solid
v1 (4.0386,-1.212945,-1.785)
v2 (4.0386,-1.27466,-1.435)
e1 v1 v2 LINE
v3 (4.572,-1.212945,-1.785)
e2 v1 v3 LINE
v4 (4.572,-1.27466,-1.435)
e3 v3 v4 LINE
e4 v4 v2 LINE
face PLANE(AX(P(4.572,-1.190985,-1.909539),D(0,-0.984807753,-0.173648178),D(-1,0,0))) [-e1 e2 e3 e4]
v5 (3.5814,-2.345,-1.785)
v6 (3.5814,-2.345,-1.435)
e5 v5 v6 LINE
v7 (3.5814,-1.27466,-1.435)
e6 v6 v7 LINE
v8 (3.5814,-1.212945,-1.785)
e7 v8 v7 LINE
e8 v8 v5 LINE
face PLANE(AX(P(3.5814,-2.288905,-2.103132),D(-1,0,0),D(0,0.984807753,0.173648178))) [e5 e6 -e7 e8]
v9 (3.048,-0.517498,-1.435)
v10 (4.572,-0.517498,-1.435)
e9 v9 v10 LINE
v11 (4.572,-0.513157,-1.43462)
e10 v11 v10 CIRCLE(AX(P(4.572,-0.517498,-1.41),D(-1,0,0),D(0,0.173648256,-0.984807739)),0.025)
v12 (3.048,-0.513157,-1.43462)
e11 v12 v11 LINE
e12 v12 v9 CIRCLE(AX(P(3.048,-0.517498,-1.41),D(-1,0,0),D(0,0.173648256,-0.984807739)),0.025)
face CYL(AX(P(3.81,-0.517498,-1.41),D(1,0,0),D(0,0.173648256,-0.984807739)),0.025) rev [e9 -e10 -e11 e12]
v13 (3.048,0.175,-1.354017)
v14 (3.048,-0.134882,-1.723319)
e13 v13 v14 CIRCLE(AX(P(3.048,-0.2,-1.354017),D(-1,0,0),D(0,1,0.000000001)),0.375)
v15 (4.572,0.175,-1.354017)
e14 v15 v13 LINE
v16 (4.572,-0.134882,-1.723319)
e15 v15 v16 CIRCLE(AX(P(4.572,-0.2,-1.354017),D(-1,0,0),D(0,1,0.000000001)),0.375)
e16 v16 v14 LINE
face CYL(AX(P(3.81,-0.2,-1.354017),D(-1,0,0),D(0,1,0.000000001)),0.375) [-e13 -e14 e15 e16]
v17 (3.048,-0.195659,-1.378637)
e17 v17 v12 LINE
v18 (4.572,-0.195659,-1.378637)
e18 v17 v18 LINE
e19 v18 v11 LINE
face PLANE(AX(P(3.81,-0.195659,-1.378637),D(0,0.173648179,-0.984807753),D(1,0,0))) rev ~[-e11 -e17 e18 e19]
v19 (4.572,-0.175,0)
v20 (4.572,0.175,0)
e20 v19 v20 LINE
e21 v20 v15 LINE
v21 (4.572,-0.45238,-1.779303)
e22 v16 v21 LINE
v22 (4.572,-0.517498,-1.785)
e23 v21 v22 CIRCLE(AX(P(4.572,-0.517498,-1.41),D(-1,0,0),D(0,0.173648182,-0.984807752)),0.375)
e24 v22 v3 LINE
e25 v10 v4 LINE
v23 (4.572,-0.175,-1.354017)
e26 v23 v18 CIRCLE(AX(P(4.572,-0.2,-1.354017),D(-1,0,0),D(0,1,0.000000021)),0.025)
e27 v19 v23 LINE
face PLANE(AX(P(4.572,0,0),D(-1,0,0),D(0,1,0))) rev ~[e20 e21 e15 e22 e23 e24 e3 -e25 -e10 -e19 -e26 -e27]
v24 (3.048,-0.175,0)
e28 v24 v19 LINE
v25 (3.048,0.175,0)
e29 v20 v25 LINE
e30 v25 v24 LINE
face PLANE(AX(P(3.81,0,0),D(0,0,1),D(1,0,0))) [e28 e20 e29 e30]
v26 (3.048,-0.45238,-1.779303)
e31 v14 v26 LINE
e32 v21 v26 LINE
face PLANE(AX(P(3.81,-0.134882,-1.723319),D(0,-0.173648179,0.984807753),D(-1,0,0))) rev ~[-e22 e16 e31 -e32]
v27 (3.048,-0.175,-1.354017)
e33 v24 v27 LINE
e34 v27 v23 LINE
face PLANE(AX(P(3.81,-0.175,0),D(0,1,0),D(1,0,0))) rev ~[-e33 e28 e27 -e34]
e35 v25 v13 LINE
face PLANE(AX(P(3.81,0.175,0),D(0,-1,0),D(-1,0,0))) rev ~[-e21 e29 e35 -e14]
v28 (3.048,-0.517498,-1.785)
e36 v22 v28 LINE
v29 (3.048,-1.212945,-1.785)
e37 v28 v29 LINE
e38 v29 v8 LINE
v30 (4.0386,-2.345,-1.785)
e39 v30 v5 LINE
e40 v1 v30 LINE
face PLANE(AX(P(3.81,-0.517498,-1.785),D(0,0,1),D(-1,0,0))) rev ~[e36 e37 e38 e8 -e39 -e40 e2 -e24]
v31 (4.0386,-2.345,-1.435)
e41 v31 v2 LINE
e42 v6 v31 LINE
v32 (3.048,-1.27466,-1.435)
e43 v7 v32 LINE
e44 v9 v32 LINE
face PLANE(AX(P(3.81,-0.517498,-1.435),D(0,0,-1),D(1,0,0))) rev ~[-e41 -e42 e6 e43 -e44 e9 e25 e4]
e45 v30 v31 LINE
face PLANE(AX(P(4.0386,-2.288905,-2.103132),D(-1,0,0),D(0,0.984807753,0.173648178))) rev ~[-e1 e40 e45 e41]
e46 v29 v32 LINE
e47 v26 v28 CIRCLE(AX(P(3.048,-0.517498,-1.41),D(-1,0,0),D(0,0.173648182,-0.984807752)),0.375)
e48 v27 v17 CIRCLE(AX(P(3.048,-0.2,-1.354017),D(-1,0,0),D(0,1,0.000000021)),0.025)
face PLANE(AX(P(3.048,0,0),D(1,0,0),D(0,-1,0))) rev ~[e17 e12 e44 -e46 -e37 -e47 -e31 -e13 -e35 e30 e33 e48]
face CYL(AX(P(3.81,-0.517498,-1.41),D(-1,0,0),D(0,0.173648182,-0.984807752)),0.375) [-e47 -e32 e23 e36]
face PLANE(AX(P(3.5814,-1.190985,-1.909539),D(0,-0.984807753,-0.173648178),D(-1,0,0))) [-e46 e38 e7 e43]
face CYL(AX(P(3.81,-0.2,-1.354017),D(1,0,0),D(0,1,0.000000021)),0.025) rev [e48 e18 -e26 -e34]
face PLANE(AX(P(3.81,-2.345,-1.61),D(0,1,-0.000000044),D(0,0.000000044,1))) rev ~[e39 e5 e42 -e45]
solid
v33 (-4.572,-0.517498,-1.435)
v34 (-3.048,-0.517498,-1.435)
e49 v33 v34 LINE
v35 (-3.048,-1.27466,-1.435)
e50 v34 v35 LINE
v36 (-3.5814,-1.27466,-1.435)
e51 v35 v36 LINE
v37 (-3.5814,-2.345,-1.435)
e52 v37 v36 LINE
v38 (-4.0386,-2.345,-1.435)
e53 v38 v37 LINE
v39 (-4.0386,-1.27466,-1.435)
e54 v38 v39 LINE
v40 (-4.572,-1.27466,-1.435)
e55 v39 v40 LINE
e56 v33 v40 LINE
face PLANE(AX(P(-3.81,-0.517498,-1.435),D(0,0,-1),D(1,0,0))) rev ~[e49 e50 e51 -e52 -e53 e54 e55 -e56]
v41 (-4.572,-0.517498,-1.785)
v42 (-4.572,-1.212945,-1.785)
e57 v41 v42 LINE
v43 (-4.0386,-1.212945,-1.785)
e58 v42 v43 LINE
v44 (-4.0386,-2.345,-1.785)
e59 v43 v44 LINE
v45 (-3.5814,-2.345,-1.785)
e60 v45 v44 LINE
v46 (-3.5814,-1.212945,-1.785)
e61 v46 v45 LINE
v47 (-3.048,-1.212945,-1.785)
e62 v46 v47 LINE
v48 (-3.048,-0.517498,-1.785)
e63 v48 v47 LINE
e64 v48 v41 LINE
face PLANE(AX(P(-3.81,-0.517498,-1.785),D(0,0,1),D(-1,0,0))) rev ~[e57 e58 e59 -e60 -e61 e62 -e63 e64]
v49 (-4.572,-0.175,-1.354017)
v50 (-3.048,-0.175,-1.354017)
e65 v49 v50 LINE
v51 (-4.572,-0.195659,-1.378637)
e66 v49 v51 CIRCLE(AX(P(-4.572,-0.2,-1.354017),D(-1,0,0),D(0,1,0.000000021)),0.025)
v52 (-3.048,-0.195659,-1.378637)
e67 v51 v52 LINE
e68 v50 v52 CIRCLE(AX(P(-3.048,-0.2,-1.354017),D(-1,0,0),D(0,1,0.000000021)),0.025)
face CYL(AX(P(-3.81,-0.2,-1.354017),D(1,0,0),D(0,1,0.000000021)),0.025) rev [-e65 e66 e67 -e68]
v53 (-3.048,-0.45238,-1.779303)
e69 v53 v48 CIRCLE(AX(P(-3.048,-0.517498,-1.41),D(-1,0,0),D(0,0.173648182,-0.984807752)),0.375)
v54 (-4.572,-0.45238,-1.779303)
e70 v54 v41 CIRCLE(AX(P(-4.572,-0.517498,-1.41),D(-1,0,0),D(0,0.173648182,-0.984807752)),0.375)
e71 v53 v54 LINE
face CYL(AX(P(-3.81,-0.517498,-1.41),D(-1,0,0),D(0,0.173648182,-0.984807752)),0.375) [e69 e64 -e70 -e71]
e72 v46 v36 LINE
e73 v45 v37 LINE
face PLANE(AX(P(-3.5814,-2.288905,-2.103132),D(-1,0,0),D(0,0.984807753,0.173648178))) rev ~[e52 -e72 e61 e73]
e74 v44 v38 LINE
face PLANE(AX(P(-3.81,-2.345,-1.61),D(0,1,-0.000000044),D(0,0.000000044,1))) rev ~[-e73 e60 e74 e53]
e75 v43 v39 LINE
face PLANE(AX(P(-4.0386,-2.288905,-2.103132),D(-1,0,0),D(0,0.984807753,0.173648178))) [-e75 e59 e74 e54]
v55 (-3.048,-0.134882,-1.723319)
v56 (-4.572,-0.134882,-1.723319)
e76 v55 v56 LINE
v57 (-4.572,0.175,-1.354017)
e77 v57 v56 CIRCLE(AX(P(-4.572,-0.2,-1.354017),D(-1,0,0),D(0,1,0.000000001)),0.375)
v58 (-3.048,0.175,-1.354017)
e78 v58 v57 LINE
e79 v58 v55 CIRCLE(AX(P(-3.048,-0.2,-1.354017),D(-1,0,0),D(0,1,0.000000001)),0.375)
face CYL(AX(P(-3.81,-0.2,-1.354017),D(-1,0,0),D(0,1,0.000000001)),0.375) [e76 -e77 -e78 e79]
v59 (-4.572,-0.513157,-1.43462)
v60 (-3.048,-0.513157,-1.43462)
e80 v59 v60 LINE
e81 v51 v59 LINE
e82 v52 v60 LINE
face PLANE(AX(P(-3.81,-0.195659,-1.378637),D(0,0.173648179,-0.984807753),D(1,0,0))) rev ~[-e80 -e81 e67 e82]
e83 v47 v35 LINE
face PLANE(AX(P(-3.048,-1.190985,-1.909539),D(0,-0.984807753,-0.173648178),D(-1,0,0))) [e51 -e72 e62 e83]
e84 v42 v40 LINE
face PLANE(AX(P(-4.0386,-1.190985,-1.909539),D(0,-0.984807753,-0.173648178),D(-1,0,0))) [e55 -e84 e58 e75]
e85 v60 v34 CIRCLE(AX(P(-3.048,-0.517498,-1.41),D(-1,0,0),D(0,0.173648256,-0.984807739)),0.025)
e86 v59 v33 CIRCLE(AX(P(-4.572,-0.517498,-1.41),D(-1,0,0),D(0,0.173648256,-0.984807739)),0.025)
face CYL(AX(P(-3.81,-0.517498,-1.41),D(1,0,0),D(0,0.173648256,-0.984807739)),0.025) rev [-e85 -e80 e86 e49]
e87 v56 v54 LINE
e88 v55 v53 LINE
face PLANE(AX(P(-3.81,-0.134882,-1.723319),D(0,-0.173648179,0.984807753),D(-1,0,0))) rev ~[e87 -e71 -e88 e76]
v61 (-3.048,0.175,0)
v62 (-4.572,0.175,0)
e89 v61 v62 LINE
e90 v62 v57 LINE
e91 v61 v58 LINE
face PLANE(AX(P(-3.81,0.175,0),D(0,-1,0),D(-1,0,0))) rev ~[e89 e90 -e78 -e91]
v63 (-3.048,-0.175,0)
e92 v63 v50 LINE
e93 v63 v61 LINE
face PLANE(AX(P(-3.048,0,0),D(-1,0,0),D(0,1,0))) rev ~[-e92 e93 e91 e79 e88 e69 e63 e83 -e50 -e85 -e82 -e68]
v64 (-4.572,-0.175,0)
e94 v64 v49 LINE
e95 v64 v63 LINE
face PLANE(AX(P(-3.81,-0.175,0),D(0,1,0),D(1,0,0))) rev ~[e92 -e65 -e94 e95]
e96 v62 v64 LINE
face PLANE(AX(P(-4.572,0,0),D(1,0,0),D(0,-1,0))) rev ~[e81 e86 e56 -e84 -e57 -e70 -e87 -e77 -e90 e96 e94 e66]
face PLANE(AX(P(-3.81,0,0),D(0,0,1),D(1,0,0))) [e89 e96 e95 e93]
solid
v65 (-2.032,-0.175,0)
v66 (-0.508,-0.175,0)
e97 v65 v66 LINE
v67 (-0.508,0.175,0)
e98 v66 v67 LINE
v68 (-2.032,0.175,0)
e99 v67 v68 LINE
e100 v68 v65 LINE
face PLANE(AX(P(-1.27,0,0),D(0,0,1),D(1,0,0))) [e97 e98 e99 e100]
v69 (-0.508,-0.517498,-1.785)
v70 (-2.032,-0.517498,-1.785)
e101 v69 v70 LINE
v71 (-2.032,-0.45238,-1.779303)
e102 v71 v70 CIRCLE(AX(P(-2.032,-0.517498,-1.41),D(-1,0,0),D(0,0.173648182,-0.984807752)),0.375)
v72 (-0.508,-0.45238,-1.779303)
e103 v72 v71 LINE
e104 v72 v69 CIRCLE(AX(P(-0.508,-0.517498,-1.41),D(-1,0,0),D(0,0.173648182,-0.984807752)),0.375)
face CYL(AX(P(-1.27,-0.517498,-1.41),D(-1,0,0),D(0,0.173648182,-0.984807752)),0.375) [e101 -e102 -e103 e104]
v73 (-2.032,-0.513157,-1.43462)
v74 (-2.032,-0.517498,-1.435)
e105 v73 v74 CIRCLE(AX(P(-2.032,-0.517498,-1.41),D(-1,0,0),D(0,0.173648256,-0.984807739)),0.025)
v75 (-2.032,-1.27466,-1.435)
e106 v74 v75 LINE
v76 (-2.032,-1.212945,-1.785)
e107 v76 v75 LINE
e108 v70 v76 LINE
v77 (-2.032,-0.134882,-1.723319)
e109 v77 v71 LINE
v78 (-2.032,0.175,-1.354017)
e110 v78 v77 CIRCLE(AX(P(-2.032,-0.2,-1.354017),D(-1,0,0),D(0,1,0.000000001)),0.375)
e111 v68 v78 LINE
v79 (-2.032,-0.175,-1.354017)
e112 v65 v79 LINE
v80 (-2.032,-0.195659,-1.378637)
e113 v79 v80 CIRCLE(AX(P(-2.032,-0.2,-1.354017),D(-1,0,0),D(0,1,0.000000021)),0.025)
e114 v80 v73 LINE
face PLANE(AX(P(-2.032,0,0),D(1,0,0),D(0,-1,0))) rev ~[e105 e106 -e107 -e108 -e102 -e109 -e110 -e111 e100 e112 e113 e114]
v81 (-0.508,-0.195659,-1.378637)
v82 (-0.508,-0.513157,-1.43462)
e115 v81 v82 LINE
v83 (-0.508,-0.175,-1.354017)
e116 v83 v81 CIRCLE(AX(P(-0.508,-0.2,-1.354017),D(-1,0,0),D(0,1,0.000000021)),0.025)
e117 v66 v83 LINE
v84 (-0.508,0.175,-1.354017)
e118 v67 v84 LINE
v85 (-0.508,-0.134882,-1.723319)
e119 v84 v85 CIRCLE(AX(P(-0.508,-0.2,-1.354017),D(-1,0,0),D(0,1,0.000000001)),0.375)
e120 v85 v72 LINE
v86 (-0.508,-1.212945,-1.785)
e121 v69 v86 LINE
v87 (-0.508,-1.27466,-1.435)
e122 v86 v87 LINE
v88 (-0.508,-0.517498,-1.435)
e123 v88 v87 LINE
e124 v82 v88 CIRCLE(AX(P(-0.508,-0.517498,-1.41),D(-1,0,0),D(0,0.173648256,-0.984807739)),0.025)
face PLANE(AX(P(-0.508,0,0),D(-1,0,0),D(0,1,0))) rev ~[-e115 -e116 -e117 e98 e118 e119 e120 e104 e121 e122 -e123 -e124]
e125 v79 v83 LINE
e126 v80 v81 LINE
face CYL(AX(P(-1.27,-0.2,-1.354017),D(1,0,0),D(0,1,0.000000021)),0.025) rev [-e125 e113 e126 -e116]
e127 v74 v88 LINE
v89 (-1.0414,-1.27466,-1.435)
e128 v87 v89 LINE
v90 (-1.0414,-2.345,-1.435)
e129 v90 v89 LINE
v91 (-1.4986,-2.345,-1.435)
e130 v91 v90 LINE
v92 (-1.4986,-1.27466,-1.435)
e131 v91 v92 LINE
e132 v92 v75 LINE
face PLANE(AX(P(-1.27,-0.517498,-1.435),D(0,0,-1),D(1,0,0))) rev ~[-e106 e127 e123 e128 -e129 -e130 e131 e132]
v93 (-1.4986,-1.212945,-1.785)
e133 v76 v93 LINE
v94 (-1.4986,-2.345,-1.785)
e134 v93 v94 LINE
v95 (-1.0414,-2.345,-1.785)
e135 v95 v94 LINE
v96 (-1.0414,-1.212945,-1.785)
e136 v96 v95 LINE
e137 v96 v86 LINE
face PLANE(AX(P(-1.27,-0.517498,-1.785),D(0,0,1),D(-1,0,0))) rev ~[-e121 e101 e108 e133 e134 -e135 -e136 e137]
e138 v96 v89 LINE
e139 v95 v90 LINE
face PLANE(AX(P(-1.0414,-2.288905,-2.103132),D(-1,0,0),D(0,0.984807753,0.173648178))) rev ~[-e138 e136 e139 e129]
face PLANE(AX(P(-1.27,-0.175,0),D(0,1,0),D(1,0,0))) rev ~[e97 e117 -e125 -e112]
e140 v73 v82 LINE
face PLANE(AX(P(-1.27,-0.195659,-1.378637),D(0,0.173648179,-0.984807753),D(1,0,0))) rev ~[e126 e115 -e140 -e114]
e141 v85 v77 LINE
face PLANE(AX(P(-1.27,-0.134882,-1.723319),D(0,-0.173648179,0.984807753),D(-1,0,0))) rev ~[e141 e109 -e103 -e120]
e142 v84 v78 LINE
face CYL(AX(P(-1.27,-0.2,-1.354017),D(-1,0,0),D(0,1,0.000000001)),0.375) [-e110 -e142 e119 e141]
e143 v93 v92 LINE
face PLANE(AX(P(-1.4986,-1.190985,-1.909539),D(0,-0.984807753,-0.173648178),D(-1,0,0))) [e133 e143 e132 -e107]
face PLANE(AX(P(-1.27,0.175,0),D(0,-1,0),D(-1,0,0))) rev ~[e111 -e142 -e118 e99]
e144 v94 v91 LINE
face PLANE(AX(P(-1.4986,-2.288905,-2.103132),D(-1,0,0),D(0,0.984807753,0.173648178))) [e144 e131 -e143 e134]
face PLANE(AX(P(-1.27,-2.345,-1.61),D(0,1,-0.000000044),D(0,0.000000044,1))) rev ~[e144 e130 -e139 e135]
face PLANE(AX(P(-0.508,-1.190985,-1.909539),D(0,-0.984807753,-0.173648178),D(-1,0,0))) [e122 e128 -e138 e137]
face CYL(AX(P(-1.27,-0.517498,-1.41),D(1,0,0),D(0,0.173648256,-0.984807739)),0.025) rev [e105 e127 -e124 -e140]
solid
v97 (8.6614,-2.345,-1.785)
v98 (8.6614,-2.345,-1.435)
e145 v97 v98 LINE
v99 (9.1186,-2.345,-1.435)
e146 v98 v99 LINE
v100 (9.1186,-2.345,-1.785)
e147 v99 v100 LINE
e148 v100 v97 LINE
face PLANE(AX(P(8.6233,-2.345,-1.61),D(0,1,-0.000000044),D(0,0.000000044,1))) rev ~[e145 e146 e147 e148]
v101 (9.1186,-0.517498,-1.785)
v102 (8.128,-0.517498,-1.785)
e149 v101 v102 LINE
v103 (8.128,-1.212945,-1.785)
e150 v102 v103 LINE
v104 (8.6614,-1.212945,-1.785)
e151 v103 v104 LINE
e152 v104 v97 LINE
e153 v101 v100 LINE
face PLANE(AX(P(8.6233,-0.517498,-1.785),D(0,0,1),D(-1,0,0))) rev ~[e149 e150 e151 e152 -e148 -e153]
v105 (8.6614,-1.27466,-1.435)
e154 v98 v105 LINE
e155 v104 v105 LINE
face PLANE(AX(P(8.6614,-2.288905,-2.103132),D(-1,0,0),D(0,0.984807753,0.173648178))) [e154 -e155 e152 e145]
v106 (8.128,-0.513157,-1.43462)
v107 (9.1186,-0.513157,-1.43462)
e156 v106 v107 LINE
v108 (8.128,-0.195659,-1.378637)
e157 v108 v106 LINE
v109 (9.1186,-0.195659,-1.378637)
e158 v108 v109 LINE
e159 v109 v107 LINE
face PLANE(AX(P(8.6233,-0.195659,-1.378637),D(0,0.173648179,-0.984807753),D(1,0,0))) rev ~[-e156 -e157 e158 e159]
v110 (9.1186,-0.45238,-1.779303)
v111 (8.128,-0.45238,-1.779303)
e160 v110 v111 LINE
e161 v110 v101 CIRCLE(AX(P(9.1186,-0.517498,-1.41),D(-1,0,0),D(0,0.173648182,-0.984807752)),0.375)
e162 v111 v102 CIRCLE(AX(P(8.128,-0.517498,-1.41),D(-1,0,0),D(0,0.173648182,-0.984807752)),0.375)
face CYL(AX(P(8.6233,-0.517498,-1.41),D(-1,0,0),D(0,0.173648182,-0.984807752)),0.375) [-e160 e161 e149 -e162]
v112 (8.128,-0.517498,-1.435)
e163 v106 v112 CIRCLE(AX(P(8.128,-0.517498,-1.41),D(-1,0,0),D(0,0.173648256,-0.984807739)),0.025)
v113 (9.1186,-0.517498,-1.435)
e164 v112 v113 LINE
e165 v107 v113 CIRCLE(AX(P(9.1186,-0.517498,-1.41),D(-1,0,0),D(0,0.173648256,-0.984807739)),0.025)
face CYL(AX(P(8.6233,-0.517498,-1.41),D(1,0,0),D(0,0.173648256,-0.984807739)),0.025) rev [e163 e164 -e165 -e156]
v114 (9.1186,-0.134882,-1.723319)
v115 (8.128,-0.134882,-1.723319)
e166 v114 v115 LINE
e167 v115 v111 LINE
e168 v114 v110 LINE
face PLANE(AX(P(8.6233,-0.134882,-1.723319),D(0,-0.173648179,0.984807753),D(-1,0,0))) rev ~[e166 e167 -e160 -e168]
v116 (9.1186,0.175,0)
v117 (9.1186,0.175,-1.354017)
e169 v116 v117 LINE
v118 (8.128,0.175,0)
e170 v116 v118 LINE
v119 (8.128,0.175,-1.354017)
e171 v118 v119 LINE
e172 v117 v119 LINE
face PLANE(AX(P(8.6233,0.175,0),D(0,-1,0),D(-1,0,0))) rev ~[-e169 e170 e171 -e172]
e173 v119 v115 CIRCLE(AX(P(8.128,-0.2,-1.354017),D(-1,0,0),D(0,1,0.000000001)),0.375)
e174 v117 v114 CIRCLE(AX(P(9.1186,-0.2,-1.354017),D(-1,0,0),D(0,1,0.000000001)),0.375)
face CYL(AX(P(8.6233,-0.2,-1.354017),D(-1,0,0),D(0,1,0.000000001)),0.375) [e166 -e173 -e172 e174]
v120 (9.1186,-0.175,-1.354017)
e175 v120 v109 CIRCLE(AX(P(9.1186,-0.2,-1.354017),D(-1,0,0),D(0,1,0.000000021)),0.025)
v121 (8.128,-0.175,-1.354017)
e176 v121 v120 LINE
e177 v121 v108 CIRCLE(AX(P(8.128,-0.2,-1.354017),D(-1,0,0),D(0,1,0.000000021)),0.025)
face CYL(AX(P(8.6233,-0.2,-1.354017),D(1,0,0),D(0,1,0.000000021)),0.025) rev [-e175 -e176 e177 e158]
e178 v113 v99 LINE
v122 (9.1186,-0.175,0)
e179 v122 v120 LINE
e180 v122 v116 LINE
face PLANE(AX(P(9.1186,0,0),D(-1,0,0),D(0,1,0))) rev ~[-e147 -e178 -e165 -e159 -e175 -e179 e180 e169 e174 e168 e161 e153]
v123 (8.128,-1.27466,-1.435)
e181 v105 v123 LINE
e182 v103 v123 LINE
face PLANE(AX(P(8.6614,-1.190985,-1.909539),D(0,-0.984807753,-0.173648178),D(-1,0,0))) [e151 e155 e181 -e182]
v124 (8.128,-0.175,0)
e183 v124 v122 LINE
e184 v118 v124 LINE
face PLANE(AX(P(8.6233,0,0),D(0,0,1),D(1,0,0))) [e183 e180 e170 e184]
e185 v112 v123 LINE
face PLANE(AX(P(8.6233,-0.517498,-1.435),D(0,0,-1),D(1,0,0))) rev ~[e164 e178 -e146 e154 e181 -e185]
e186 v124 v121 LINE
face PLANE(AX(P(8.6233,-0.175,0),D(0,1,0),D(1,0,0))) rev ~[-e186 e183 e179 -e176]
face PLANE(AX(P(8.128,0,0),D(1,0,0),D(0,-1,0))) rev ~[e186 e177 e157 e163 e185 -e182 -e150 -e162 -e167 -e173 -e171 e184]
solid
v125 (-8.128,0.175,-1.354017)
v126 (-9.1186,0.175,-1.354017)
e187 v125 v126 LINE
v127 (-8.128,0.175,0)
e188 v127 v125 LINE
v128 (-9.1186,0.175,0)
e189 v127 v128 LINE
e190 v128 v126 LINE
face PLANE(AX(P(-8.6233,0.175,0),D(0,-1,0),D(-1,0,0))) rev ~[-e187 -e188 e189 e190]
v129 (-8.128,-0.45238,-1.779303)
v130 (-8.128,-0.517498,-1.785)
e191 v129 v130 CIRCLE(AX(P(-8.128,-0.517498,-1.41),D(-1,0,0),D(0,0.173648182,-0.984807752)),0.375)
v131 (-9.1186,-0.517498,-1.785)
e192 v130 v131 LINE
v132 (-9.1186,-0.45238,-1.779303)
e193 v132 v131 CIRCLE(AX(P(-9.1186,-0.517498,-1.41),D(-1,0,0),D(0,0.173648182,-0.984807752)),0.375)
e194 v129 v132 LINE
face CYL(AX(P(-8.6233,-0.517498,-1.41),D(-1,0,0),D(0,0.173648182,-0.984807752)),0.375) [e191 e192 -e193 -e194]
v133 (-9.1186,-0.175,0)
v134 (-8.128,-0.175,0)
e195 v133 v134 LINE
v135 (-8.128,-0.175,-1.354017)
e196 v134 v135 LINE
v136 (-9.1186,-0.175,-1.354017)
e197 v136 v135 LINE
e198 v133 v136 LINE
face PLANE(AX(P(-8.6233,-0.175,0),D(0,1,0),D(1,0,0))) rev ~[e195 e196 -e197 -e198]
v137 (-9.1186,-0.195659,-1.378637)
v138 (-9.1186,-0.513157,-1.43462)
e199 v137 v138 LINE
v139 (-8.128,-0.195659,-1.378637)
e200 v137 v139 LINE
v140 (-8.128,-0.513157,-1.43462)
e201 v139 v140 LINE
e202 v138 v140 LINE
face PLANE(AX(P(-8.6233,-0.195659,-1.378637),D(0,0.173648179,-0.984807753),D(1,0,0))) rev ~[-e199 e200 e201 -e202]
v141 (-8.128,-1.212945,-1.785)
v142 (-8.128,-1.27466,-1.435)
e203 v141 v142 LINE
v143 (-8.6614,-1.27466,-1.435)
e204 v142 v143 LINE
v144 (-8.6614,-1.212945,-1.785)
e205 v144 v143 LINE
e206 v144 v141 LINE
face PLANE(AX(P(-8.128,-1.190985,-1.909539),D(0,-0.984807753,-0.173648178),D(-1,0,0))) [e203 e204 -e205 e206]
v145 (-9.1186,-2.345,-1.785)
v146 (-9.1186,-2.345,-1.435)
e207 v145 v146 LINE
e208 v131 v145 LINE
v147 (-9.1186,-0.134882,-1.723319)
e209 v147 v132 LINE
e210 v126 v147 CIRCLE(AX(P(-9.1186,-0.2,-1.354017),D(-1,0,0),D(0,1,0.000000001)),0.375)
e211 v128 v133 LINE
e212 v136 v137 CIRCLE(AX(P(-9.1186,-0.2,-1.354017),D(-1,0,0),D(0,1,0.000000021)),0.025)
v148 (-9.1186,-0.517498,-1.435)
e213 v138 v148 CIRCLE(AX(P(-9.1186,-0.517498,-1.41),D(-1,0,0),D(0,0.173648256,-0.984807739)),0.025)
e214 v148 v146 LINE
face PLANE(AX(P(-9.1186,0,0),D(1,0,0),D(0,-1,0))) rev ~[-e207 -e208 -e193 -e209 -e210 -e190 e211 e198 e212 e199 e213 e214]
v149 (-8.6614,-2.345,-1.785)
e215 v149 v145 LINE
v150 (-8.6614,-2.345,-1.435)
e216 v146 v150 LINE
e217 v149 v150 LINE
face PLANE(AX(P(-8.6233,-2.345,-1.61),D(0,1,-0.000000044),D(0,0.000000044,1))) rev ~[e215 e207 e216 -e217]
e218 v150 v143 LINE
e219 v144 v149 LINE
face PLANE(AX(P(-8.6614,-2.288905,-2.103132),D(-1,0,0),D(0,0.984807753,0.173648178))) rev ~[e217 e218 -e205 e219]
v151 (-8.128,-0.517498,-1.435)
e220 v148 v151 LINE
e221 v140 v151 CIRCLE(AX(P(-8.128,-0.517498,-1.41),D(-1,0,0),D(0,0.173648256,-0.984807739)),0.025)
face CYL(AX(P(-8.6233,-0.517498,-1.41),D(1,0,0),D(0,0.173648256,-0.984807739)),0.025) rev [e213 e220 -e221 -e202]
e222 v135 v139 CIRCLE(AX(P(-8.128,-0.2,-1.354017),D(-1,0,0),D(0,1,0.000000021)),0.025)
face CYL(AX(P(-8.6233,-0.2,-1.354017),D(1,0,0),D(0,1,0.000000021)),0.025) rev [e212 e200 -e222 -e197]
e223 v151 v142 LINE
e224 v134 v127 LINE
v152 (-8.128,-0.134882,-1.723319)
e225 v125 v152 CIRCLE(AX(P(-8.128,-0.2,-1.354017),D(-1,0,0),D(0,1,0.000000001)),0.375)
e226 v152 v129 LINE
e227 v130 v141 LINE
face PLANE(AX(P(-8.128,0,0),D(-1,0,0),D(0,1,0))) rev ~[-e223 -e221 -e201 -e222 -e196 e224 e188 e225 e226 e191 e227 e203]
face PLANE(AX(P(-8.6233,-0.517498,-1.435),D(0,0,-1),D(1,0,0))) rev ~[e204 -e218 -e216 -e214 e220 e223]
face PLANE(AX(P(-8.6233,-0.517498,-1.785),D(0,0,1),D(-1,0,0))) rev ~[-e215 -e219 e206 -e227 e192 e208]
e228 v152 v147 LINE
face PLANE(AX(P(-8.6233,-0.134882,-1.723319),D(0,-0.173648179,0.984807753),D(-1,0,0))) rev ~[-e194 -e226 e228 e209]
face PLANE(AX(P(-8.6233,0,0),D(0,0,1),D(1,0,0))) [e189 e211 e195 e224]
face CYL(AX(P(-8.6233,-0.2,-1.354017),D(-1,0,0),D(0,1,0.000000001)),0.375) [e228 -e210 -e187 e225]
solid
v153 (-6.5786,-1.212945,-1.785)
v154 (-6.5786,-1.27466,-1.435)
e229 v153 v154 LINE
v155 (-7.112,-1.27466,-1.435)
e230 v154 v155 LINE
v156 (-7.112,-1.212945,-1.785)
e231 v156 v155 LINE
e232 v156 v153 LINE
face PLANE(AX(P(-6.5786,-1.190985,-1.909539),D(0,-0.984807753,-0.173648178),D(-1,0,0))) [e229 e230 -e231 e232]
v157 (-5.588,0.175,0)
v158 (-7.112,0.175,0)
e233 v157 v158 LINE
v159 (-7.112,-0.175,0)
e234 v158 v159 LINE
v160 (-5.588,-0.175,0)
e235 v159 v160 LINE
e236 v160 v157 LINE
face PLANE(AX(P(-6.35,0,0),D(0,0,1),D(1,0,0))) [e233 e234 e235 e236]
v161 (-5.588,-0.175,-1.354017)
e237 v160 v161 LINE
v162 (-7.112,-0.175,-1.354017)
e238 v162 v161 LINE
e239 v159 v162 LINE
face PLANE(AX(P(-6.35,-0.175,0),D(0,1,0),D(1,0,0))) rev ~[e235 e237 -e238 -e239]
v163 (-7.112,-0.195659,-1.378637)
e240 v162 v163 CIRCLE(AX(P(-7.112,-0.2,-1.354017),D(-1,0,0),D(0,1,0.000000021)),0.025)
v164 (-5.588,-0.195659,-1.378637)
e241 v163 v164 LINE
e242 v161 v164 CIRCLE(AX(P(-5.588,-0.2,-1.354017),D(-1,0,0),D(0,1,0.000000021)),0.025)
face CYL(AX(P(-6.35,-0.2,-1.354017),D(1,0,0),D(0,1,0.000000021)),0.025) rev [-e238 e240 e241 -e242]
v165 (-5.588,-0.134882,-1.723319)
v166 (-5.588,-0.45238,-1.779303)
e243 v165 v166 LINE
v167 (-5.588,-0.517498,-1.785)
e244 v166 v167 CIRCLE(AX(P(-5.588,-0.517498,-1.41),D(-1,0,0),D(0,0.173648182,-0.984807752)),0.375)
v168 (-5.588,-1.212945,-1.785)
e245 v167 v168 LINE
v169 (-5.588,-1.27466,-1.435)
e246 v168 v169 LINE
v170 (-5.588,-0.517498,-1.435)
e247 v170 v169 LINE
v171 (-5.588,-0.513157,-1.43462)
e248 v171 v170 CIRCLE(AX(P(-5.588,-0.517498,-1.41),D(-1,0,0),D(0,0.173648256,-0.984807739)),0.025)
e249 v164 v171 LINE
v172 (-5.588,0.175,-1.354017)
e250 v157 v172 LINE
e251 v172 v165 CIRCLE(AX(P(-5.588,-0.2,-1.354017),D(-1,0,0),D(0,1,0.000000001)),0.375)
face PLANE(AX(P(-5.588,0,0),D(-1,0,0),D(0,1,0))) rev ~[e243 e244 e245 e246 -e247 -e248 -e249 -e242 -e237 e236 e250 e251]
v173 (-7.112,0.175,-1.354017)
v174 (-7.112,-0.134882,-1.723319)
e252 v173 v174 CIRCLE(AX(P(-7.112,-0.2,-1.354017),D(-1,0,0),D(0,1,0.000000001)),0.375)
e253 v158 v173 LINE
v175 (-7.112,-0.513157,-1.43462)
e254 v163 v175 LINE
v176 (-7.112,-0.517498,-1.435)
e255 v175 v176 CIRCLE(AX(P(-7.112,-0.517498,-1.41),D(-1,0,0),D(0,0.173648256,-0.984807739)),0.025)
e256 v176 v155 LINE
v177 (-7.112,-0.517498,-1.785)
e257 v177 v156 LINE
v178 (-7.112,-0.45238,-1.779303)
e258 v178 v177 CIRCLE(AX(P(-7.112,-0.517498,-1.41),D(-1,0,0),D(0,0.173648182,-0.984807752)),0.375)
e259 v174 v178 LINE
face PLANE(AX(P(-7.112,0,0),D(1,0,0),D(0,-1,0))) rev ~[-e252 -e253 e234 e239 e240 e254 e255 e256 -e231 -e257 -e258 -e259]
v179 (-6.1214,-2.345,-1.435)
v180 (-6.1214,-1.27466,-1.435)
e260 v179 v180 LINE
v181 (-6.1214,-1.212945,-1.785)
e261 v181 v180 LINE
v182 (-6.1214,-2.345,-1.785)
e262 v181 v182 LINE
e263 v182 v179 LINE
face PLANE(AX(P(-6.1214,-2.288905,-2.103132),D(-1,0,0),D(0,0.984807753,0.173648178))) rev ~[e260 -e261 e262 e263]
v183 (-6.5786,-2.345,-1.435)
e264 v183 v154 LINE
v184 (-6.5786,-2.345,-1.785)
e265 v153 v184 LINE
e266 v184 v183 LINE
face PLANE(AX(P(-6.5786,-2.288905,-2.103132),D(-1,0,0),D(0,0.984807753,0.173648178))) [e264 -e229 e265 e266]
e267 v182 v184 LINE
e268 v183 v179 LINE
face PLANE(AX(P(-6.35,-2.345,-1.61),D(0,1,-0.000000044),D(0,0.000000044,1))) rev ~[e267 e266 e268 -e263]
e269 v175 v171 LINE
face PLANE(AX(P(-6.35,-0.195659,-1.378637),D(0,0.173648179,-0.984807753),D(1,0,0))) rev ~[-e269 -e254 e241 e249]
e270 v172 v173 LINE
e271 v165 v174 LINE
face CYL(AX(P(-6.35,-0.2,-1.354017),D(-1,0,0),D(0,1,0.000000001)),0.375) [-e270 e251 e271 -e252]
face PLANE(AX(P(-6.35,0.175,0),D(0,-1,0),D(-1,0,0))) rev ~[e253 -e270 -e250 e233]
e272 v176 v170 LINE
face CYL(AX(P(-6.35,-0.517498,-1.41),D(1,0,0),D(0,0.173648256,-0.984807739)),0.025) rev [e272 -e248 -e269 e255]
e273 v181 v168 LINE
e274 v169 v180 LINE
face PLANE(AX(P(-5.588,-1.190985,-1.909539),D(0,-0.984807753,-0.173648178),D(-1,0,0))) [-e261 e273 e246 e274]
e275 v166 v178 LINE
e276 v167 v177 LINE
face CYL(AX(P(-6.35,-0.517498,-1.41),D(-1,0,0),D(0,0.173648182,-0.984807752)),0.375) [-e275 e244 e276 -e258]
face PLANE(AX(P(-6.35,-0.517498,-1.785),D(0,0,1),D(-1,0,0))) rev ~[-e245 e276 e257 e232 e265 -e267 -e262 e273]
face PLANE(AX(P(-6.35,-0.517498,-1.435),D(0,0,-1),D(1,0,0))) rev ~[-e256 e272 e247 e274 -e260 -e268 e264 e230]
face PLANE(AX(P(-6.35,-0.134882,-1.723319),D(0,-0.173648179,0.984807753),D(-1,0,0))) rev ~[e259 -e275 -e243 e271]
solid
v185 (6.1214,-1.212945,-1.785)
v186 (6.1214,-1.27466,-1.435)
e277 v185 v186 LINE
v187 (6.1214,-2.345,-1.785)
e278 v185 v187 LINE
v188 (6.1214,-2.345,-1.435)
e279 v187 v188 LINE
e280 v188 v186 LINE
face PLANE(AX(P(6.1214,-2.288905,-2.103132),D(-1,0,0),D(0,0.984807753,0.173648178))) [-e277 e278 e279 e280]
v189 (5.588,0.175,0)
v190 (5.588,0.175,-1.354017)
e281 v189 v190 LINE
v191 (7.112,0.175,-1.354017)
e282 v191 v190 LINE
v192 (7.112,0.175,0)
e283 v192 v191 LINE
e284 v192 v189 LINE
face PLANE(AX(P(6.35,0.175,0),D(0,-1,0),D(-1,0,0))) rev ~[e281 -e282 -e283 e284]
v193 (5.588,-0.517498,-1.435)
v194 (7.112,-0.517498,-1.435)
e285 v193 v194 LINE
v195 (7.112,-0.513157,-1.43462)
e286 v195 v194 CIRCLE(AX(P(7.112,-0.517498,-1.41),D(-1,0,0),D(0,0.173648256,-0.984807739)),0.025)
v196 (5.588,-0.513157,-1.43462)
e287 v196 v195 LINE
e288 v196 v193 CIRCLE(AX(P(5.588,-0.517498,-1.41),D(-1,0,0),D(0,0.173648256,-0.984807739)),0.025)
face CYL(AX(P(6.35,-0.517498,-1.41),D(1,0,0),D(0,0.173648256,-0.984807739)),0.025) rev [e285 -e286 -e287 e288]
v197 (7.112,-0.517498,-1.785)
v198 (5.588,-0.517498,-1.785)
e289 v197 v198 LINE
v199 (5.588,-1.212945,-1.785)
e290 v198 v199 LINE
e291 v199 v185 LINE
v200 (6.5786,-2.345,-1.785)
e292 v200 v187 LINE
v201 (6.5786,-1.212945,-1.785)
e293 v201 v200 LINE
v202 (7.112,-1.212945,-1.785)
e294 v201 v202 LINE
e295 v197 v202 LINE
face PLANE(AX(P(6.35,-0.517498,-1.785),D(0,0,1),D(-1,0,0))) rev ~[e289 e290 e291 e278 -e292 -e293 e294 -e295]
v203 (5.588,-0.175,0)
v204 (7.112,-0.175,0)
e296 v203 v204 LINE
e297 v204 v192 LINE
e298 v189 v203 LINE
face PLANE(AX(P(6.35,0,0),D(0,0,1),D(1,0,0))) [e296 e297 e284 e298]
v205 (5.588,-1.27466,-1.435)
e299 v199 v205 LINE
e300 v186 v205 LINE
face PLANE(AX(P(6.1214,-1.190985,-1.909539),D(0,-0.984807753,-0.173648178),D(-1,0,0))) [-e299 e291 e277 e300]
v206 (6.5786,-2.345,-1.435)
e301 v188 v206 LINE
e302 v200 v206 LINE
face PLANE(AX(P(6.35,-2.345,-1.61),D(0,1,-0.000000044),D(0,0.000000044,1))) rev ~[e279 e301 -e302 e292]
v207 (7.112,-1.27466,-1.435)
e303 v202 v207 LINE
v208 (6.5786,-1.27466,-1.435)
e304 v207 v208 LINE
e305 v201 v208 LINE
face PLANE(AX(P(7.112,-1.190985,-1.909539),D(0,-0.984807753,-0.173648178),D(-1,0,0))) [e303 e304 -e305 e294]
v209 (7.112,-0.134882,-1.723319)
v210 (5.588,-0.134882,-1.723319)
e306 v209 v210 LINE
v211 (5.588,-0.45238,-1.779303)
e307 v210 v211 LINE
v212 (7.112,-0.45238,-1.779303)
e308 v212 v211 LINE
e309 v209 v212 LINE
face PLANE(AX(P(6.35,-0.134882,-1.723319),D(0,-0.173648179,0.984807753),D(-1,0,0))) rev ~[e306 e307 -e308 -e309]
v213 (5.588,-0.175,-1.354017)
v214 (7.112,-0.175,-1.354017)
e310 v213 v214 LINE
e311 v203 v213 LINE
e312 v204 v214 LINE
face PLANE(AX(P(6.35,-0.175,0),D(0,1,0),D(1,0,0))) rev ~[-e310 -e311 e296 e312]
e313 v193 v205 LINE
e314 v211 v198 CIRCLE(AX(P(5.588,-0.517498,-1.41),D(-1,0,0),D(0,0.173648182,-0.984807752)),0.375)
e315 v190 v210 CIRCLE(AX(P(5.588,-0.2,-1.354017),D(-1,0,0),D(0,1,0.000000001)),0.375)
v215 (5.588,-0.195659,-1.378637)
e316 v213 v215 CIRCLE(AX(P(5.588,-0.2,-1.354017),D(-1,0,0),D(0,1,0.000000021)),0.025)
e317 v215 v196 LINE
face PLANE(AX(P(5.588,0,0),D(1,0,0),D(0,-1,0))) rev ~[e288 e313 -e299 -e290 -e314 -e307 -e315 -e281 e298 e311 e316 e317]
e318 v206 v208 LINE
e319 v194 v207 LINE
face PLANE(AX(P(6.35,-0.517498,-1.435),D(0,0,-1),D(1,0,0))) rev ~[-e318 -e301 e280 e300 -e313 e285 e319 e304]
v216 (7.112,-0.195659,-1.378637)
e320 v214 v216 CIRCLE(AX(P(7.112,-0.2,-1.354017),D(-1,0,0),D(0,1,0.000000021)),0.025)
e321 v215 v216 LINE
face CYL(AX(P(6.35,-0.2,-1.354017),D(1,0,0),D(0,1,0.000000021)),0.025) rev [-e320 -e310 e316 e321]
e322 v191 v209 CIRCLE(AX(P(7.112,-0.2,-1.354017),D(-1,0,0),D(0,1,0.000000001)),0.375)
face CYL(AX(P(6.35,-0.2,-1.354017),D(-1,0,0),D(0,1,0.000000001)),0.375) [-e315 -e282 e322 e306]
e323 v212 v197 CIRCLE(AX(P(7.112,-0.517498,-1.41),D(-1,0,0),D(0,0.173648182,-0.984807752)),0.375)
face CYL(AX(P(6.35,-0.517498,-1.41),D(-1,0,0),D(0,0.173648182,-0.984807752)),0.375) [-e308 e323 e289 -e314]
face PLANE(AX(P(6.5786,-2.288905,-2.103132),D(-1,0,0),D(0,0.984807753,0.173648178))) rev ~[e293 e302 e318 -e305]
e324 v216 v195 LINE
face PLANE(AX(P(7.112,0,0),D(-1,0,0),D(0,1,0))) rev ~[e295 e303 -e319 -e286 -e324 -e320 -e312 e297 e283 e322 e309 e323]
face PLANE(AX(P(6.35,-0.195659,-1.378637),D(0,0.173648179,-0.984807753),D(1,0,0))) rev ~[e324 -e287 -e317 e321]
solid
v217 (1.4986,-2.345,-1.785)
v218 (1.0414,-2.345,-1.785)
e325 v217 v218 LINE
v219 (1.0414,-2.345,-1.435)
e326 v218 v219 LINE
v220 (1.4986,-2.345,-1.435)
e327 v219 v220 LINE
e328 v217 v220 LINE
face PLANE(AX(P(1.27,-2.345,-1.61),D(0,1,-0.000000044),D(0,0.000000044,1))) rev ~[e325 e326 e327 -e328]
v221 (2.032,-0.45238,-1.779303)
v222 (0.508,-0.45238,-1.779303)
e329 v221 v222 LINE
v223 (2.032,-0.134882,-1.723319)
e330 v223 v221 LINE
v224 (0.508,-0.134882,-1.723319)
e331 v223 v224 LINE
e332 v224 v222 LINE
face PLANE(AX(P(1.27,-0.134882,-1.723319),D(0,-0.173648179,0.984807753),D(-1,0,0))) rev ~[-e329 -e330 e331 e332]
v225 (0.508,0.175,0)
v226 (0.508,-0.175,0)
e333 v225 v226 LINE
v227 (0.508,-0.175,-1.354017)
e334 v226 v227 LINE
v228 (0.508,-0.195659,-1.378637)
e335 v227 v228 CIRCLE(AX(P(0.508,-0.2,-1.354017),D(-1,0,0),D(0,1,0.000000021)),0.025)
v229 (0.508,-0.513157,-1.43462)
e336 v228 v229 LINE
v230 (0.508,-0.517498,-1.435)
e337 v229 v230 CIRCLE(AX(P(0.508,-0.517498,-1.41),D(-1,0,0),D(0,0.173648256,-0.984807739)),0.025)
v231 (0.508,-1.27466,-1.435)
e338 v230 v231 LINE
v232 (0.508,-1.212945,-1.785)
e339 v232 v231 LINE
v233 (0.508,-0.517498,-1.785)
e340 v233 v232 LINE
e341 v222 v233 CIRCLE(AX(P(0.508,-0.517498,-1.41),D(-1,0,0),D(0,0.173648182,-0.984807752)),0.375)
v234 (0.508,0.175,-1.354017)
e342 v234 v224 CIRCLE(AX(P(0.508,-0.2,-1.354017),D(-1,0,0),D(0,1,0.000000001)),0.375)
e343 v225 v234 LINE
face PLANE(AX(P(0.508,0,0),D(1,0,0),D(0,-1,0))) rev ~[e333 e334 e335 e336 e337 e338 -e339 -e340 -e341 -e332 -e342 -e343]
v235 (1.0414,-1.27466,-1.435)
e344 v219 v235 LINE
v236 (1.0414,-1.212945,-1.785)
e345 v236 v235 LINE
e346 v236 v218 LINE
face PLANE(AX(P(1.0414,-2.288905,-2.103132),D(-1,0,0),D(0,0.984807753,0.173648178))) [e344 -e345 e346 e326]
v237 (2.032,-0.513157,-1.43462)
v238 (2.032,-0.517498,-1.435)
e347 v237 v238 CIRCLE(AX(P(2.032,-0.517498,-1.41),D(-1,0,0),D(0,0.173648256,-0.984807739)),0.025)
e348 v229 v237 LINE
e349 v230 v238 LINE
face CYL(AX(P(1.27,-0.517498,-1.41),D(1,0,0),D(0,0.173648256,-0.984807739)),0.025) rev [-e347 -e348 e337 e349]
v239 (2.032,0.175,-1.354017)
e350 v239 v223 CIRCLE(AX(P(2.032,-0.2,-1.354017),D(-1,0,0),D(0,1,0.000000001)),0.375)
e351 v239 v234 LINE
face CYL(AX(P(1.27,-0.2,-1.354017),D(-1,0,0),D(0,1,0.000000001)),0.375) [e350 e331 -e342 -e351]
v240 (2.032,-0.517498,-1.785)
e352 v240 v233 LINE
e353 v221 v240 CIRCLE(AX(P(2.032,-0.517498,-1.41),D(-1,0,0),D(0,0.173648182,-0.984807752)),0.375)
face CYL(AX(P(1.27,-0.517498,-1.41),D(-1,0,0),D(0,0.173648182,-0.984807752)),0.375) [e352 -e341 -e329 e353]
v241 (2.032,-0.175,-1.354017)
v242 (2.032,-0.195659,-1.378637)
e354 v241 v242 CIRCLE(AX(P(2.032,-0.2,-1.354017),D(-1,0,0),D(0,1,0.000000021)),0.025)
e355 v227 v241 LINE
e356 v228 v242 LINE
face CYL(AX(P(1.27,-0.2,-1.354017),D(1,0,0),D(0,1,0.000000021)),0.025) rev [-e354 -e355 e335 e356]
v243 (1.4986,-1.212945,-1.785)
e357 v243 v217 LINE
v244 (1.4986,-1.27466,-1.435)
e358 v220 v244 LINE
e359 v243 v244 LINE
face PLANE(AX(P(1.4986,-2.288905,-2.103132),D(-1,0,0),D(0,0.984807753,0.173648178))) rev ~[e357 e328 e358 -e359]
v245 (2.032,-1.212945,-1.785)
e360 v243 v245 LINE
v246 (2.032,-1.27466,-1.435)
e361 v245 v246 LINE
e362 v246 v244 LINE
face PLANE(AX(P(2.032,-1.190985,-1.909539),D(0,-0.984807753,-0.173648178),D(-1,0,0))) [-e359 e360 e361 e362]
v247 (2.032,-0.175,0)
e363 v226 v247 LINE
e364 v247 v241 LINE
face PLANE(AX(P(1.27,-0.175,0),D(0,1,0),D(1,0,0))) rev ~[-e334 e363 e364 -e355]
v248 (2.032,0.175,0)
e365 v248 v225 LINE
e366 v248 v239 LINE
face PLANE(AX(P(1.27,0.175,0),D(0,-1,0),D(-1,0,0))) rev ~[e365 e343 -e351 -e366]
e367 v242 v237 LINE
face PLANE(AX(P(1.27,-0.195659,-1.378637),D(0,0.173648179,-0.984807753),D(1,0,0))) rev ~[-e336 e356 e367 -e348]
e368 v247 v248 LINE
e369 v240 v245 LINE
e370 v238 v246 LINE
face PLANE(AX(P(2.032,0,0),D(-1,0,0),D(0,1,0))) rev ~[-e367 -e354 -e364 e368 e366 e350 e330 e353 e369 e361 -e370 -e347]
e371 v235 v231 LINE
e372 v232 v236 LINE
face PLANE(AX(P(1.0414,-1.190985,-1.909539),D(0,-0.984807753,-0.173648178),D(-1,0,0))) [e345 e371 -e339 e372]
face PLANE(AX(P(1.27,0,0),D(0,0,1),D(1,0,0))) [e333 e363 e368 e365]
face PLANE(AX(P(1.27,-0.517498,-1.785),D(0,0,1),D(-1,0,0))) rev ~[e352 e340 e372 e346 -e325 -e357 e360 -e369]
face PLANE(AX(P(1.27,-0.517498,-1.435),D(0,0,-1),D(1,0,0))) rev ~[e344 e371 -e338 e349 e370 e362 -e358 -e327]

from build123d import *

# Parameters (mm, degrees)
SKETCH1_W      = 1.524
SKETCH1_H      = 0.35
SKETCH1_W_2    = 0.9906
SKETCH10_W     = 0.5334
SKETCH10_H     = 1.114856468
EXTRUDE1_DEPTH = 3.08092137


with BuildPart() as part:
    # Sweep11: sweep along a path in Sketch2
    with BuildLine(Plane(origin=(0, 0, 0), x_dir=(0, 0, -1), z_dir=(1, 0, 0))) as sweep11_path:
        Line((0, 0), (1.354016583, 0))
        ThreePointArc((1.354016583, 0), (1.482574105, -0.046791111), (1.550978134, -0.165270364))
        Line((1.550978134, -0.165270364), (1.606961551, -0.482768097))
        ThreePointArc((1.606961551, -0.482768097), (1.60923894, -0.500066584), (1.61, -0.517497733))
        Line((1.61, -0.517497733), (1.61, -2.345))
    # Sketch1 → Sweep11 (sweep)
    with BuildSketch(Plane.XY):
        with Locations((-1.27, 0)):
            Rectangle(SKETCH1_W, SKETCH1_H)
        with Locations((6.35, 0)):
            Rectangle(SKETCH1_W, SKETCH1_H)
        with Locations((8.6233, 0)):
            Rectangle(SKETCH1_W_2, SKETCH1_H)
        with Locations((-8.6233, 0)):
            Rectangle(SKETCH1_W_2, SKETCH1_H)
        with Locations((-3.81, 0)):
            Rectangle(SKETCH1_W, SKETCH1_H)
        with Locations((-6.35, 0)):
            Rectangle(SKETCH1_W, SKETCH1_H)
        with Locations((1.27, 0)):
            Rectangle(SKETCH1_W, SKETCH1_H)
        with Locations((3.81, 0)):
            Rectangle(SKETCH1_W, SKETCH1_H)
    sweep(path=sweep11_path.line)

    # Sketch10 → Extrude1 (cut, through all)
    with BuildSketch(Plane(origin=(0, 0.290637802, -1.648288881), x_dir=(-1, 0, 0), z_dir=(0, 0.173648178, -0.984807753))):
        with Locations((-8.3947, -2.061907944)):
            Rectangle(SKETCH10_W, SKETCH10_H)
        with Locations((-6.8453, -2.061907944)):
            Rectangle(SKETCH10_W, SKETCH10_H)
        with Locations((-5.8547, -2.061907944)):
            Rectangle(SKETCH10_W, SKETCH10_H)
        with Locations((-4.3053, -2.061907944)):
            Rectangle(SKETCH10_W, SKETCH10_H)
        with Locations((-3.3147, -2.061907944)):
            Rectangle(SKETCH10_W, SKETCH10_H)
        with Locations((8.3947, -2.061907944)):
            Rectangle(SKETCH10_W, SKETCH10_H)
        with Locations((-1.7653, -2.061907944)):
            Rectangle(SKETCH10_W, SKETCH10_H)
        with Locations((-0.7747, -2.061907944)):
            Rectangle(SKETCH10_W, SKETCH10_H)
        with Locations((0.7747, -2.061907944)):
            Rectangle(SKETCH10_W, SKETCH10_H)
        with Locations((1.7653, -2.061907944)):
            Rectangle(SKETCH10_W, SKETCH10_H)
        with Locations((3.3147, -2.061907944)):
            Rectangle(SKETCH10_W, SKETCH10_H)
        with Locations((4.3053, -2.061907944)):
            Rectangle(SKETCH10_W, SKETCH10_H)
        with Locations((5.8547, -2.061907944)):
            Rectangle(SKETCH10_W, SKETCH10_H)
        with Locations((6.8453, -2.061907944)):
            Rectangle(SKETCH10_W, SKETCH10_H)
    extrude(amount=-EXTRUDE1_DEPTH, mode=Mode.SUBTRACT)


solid = part.part
